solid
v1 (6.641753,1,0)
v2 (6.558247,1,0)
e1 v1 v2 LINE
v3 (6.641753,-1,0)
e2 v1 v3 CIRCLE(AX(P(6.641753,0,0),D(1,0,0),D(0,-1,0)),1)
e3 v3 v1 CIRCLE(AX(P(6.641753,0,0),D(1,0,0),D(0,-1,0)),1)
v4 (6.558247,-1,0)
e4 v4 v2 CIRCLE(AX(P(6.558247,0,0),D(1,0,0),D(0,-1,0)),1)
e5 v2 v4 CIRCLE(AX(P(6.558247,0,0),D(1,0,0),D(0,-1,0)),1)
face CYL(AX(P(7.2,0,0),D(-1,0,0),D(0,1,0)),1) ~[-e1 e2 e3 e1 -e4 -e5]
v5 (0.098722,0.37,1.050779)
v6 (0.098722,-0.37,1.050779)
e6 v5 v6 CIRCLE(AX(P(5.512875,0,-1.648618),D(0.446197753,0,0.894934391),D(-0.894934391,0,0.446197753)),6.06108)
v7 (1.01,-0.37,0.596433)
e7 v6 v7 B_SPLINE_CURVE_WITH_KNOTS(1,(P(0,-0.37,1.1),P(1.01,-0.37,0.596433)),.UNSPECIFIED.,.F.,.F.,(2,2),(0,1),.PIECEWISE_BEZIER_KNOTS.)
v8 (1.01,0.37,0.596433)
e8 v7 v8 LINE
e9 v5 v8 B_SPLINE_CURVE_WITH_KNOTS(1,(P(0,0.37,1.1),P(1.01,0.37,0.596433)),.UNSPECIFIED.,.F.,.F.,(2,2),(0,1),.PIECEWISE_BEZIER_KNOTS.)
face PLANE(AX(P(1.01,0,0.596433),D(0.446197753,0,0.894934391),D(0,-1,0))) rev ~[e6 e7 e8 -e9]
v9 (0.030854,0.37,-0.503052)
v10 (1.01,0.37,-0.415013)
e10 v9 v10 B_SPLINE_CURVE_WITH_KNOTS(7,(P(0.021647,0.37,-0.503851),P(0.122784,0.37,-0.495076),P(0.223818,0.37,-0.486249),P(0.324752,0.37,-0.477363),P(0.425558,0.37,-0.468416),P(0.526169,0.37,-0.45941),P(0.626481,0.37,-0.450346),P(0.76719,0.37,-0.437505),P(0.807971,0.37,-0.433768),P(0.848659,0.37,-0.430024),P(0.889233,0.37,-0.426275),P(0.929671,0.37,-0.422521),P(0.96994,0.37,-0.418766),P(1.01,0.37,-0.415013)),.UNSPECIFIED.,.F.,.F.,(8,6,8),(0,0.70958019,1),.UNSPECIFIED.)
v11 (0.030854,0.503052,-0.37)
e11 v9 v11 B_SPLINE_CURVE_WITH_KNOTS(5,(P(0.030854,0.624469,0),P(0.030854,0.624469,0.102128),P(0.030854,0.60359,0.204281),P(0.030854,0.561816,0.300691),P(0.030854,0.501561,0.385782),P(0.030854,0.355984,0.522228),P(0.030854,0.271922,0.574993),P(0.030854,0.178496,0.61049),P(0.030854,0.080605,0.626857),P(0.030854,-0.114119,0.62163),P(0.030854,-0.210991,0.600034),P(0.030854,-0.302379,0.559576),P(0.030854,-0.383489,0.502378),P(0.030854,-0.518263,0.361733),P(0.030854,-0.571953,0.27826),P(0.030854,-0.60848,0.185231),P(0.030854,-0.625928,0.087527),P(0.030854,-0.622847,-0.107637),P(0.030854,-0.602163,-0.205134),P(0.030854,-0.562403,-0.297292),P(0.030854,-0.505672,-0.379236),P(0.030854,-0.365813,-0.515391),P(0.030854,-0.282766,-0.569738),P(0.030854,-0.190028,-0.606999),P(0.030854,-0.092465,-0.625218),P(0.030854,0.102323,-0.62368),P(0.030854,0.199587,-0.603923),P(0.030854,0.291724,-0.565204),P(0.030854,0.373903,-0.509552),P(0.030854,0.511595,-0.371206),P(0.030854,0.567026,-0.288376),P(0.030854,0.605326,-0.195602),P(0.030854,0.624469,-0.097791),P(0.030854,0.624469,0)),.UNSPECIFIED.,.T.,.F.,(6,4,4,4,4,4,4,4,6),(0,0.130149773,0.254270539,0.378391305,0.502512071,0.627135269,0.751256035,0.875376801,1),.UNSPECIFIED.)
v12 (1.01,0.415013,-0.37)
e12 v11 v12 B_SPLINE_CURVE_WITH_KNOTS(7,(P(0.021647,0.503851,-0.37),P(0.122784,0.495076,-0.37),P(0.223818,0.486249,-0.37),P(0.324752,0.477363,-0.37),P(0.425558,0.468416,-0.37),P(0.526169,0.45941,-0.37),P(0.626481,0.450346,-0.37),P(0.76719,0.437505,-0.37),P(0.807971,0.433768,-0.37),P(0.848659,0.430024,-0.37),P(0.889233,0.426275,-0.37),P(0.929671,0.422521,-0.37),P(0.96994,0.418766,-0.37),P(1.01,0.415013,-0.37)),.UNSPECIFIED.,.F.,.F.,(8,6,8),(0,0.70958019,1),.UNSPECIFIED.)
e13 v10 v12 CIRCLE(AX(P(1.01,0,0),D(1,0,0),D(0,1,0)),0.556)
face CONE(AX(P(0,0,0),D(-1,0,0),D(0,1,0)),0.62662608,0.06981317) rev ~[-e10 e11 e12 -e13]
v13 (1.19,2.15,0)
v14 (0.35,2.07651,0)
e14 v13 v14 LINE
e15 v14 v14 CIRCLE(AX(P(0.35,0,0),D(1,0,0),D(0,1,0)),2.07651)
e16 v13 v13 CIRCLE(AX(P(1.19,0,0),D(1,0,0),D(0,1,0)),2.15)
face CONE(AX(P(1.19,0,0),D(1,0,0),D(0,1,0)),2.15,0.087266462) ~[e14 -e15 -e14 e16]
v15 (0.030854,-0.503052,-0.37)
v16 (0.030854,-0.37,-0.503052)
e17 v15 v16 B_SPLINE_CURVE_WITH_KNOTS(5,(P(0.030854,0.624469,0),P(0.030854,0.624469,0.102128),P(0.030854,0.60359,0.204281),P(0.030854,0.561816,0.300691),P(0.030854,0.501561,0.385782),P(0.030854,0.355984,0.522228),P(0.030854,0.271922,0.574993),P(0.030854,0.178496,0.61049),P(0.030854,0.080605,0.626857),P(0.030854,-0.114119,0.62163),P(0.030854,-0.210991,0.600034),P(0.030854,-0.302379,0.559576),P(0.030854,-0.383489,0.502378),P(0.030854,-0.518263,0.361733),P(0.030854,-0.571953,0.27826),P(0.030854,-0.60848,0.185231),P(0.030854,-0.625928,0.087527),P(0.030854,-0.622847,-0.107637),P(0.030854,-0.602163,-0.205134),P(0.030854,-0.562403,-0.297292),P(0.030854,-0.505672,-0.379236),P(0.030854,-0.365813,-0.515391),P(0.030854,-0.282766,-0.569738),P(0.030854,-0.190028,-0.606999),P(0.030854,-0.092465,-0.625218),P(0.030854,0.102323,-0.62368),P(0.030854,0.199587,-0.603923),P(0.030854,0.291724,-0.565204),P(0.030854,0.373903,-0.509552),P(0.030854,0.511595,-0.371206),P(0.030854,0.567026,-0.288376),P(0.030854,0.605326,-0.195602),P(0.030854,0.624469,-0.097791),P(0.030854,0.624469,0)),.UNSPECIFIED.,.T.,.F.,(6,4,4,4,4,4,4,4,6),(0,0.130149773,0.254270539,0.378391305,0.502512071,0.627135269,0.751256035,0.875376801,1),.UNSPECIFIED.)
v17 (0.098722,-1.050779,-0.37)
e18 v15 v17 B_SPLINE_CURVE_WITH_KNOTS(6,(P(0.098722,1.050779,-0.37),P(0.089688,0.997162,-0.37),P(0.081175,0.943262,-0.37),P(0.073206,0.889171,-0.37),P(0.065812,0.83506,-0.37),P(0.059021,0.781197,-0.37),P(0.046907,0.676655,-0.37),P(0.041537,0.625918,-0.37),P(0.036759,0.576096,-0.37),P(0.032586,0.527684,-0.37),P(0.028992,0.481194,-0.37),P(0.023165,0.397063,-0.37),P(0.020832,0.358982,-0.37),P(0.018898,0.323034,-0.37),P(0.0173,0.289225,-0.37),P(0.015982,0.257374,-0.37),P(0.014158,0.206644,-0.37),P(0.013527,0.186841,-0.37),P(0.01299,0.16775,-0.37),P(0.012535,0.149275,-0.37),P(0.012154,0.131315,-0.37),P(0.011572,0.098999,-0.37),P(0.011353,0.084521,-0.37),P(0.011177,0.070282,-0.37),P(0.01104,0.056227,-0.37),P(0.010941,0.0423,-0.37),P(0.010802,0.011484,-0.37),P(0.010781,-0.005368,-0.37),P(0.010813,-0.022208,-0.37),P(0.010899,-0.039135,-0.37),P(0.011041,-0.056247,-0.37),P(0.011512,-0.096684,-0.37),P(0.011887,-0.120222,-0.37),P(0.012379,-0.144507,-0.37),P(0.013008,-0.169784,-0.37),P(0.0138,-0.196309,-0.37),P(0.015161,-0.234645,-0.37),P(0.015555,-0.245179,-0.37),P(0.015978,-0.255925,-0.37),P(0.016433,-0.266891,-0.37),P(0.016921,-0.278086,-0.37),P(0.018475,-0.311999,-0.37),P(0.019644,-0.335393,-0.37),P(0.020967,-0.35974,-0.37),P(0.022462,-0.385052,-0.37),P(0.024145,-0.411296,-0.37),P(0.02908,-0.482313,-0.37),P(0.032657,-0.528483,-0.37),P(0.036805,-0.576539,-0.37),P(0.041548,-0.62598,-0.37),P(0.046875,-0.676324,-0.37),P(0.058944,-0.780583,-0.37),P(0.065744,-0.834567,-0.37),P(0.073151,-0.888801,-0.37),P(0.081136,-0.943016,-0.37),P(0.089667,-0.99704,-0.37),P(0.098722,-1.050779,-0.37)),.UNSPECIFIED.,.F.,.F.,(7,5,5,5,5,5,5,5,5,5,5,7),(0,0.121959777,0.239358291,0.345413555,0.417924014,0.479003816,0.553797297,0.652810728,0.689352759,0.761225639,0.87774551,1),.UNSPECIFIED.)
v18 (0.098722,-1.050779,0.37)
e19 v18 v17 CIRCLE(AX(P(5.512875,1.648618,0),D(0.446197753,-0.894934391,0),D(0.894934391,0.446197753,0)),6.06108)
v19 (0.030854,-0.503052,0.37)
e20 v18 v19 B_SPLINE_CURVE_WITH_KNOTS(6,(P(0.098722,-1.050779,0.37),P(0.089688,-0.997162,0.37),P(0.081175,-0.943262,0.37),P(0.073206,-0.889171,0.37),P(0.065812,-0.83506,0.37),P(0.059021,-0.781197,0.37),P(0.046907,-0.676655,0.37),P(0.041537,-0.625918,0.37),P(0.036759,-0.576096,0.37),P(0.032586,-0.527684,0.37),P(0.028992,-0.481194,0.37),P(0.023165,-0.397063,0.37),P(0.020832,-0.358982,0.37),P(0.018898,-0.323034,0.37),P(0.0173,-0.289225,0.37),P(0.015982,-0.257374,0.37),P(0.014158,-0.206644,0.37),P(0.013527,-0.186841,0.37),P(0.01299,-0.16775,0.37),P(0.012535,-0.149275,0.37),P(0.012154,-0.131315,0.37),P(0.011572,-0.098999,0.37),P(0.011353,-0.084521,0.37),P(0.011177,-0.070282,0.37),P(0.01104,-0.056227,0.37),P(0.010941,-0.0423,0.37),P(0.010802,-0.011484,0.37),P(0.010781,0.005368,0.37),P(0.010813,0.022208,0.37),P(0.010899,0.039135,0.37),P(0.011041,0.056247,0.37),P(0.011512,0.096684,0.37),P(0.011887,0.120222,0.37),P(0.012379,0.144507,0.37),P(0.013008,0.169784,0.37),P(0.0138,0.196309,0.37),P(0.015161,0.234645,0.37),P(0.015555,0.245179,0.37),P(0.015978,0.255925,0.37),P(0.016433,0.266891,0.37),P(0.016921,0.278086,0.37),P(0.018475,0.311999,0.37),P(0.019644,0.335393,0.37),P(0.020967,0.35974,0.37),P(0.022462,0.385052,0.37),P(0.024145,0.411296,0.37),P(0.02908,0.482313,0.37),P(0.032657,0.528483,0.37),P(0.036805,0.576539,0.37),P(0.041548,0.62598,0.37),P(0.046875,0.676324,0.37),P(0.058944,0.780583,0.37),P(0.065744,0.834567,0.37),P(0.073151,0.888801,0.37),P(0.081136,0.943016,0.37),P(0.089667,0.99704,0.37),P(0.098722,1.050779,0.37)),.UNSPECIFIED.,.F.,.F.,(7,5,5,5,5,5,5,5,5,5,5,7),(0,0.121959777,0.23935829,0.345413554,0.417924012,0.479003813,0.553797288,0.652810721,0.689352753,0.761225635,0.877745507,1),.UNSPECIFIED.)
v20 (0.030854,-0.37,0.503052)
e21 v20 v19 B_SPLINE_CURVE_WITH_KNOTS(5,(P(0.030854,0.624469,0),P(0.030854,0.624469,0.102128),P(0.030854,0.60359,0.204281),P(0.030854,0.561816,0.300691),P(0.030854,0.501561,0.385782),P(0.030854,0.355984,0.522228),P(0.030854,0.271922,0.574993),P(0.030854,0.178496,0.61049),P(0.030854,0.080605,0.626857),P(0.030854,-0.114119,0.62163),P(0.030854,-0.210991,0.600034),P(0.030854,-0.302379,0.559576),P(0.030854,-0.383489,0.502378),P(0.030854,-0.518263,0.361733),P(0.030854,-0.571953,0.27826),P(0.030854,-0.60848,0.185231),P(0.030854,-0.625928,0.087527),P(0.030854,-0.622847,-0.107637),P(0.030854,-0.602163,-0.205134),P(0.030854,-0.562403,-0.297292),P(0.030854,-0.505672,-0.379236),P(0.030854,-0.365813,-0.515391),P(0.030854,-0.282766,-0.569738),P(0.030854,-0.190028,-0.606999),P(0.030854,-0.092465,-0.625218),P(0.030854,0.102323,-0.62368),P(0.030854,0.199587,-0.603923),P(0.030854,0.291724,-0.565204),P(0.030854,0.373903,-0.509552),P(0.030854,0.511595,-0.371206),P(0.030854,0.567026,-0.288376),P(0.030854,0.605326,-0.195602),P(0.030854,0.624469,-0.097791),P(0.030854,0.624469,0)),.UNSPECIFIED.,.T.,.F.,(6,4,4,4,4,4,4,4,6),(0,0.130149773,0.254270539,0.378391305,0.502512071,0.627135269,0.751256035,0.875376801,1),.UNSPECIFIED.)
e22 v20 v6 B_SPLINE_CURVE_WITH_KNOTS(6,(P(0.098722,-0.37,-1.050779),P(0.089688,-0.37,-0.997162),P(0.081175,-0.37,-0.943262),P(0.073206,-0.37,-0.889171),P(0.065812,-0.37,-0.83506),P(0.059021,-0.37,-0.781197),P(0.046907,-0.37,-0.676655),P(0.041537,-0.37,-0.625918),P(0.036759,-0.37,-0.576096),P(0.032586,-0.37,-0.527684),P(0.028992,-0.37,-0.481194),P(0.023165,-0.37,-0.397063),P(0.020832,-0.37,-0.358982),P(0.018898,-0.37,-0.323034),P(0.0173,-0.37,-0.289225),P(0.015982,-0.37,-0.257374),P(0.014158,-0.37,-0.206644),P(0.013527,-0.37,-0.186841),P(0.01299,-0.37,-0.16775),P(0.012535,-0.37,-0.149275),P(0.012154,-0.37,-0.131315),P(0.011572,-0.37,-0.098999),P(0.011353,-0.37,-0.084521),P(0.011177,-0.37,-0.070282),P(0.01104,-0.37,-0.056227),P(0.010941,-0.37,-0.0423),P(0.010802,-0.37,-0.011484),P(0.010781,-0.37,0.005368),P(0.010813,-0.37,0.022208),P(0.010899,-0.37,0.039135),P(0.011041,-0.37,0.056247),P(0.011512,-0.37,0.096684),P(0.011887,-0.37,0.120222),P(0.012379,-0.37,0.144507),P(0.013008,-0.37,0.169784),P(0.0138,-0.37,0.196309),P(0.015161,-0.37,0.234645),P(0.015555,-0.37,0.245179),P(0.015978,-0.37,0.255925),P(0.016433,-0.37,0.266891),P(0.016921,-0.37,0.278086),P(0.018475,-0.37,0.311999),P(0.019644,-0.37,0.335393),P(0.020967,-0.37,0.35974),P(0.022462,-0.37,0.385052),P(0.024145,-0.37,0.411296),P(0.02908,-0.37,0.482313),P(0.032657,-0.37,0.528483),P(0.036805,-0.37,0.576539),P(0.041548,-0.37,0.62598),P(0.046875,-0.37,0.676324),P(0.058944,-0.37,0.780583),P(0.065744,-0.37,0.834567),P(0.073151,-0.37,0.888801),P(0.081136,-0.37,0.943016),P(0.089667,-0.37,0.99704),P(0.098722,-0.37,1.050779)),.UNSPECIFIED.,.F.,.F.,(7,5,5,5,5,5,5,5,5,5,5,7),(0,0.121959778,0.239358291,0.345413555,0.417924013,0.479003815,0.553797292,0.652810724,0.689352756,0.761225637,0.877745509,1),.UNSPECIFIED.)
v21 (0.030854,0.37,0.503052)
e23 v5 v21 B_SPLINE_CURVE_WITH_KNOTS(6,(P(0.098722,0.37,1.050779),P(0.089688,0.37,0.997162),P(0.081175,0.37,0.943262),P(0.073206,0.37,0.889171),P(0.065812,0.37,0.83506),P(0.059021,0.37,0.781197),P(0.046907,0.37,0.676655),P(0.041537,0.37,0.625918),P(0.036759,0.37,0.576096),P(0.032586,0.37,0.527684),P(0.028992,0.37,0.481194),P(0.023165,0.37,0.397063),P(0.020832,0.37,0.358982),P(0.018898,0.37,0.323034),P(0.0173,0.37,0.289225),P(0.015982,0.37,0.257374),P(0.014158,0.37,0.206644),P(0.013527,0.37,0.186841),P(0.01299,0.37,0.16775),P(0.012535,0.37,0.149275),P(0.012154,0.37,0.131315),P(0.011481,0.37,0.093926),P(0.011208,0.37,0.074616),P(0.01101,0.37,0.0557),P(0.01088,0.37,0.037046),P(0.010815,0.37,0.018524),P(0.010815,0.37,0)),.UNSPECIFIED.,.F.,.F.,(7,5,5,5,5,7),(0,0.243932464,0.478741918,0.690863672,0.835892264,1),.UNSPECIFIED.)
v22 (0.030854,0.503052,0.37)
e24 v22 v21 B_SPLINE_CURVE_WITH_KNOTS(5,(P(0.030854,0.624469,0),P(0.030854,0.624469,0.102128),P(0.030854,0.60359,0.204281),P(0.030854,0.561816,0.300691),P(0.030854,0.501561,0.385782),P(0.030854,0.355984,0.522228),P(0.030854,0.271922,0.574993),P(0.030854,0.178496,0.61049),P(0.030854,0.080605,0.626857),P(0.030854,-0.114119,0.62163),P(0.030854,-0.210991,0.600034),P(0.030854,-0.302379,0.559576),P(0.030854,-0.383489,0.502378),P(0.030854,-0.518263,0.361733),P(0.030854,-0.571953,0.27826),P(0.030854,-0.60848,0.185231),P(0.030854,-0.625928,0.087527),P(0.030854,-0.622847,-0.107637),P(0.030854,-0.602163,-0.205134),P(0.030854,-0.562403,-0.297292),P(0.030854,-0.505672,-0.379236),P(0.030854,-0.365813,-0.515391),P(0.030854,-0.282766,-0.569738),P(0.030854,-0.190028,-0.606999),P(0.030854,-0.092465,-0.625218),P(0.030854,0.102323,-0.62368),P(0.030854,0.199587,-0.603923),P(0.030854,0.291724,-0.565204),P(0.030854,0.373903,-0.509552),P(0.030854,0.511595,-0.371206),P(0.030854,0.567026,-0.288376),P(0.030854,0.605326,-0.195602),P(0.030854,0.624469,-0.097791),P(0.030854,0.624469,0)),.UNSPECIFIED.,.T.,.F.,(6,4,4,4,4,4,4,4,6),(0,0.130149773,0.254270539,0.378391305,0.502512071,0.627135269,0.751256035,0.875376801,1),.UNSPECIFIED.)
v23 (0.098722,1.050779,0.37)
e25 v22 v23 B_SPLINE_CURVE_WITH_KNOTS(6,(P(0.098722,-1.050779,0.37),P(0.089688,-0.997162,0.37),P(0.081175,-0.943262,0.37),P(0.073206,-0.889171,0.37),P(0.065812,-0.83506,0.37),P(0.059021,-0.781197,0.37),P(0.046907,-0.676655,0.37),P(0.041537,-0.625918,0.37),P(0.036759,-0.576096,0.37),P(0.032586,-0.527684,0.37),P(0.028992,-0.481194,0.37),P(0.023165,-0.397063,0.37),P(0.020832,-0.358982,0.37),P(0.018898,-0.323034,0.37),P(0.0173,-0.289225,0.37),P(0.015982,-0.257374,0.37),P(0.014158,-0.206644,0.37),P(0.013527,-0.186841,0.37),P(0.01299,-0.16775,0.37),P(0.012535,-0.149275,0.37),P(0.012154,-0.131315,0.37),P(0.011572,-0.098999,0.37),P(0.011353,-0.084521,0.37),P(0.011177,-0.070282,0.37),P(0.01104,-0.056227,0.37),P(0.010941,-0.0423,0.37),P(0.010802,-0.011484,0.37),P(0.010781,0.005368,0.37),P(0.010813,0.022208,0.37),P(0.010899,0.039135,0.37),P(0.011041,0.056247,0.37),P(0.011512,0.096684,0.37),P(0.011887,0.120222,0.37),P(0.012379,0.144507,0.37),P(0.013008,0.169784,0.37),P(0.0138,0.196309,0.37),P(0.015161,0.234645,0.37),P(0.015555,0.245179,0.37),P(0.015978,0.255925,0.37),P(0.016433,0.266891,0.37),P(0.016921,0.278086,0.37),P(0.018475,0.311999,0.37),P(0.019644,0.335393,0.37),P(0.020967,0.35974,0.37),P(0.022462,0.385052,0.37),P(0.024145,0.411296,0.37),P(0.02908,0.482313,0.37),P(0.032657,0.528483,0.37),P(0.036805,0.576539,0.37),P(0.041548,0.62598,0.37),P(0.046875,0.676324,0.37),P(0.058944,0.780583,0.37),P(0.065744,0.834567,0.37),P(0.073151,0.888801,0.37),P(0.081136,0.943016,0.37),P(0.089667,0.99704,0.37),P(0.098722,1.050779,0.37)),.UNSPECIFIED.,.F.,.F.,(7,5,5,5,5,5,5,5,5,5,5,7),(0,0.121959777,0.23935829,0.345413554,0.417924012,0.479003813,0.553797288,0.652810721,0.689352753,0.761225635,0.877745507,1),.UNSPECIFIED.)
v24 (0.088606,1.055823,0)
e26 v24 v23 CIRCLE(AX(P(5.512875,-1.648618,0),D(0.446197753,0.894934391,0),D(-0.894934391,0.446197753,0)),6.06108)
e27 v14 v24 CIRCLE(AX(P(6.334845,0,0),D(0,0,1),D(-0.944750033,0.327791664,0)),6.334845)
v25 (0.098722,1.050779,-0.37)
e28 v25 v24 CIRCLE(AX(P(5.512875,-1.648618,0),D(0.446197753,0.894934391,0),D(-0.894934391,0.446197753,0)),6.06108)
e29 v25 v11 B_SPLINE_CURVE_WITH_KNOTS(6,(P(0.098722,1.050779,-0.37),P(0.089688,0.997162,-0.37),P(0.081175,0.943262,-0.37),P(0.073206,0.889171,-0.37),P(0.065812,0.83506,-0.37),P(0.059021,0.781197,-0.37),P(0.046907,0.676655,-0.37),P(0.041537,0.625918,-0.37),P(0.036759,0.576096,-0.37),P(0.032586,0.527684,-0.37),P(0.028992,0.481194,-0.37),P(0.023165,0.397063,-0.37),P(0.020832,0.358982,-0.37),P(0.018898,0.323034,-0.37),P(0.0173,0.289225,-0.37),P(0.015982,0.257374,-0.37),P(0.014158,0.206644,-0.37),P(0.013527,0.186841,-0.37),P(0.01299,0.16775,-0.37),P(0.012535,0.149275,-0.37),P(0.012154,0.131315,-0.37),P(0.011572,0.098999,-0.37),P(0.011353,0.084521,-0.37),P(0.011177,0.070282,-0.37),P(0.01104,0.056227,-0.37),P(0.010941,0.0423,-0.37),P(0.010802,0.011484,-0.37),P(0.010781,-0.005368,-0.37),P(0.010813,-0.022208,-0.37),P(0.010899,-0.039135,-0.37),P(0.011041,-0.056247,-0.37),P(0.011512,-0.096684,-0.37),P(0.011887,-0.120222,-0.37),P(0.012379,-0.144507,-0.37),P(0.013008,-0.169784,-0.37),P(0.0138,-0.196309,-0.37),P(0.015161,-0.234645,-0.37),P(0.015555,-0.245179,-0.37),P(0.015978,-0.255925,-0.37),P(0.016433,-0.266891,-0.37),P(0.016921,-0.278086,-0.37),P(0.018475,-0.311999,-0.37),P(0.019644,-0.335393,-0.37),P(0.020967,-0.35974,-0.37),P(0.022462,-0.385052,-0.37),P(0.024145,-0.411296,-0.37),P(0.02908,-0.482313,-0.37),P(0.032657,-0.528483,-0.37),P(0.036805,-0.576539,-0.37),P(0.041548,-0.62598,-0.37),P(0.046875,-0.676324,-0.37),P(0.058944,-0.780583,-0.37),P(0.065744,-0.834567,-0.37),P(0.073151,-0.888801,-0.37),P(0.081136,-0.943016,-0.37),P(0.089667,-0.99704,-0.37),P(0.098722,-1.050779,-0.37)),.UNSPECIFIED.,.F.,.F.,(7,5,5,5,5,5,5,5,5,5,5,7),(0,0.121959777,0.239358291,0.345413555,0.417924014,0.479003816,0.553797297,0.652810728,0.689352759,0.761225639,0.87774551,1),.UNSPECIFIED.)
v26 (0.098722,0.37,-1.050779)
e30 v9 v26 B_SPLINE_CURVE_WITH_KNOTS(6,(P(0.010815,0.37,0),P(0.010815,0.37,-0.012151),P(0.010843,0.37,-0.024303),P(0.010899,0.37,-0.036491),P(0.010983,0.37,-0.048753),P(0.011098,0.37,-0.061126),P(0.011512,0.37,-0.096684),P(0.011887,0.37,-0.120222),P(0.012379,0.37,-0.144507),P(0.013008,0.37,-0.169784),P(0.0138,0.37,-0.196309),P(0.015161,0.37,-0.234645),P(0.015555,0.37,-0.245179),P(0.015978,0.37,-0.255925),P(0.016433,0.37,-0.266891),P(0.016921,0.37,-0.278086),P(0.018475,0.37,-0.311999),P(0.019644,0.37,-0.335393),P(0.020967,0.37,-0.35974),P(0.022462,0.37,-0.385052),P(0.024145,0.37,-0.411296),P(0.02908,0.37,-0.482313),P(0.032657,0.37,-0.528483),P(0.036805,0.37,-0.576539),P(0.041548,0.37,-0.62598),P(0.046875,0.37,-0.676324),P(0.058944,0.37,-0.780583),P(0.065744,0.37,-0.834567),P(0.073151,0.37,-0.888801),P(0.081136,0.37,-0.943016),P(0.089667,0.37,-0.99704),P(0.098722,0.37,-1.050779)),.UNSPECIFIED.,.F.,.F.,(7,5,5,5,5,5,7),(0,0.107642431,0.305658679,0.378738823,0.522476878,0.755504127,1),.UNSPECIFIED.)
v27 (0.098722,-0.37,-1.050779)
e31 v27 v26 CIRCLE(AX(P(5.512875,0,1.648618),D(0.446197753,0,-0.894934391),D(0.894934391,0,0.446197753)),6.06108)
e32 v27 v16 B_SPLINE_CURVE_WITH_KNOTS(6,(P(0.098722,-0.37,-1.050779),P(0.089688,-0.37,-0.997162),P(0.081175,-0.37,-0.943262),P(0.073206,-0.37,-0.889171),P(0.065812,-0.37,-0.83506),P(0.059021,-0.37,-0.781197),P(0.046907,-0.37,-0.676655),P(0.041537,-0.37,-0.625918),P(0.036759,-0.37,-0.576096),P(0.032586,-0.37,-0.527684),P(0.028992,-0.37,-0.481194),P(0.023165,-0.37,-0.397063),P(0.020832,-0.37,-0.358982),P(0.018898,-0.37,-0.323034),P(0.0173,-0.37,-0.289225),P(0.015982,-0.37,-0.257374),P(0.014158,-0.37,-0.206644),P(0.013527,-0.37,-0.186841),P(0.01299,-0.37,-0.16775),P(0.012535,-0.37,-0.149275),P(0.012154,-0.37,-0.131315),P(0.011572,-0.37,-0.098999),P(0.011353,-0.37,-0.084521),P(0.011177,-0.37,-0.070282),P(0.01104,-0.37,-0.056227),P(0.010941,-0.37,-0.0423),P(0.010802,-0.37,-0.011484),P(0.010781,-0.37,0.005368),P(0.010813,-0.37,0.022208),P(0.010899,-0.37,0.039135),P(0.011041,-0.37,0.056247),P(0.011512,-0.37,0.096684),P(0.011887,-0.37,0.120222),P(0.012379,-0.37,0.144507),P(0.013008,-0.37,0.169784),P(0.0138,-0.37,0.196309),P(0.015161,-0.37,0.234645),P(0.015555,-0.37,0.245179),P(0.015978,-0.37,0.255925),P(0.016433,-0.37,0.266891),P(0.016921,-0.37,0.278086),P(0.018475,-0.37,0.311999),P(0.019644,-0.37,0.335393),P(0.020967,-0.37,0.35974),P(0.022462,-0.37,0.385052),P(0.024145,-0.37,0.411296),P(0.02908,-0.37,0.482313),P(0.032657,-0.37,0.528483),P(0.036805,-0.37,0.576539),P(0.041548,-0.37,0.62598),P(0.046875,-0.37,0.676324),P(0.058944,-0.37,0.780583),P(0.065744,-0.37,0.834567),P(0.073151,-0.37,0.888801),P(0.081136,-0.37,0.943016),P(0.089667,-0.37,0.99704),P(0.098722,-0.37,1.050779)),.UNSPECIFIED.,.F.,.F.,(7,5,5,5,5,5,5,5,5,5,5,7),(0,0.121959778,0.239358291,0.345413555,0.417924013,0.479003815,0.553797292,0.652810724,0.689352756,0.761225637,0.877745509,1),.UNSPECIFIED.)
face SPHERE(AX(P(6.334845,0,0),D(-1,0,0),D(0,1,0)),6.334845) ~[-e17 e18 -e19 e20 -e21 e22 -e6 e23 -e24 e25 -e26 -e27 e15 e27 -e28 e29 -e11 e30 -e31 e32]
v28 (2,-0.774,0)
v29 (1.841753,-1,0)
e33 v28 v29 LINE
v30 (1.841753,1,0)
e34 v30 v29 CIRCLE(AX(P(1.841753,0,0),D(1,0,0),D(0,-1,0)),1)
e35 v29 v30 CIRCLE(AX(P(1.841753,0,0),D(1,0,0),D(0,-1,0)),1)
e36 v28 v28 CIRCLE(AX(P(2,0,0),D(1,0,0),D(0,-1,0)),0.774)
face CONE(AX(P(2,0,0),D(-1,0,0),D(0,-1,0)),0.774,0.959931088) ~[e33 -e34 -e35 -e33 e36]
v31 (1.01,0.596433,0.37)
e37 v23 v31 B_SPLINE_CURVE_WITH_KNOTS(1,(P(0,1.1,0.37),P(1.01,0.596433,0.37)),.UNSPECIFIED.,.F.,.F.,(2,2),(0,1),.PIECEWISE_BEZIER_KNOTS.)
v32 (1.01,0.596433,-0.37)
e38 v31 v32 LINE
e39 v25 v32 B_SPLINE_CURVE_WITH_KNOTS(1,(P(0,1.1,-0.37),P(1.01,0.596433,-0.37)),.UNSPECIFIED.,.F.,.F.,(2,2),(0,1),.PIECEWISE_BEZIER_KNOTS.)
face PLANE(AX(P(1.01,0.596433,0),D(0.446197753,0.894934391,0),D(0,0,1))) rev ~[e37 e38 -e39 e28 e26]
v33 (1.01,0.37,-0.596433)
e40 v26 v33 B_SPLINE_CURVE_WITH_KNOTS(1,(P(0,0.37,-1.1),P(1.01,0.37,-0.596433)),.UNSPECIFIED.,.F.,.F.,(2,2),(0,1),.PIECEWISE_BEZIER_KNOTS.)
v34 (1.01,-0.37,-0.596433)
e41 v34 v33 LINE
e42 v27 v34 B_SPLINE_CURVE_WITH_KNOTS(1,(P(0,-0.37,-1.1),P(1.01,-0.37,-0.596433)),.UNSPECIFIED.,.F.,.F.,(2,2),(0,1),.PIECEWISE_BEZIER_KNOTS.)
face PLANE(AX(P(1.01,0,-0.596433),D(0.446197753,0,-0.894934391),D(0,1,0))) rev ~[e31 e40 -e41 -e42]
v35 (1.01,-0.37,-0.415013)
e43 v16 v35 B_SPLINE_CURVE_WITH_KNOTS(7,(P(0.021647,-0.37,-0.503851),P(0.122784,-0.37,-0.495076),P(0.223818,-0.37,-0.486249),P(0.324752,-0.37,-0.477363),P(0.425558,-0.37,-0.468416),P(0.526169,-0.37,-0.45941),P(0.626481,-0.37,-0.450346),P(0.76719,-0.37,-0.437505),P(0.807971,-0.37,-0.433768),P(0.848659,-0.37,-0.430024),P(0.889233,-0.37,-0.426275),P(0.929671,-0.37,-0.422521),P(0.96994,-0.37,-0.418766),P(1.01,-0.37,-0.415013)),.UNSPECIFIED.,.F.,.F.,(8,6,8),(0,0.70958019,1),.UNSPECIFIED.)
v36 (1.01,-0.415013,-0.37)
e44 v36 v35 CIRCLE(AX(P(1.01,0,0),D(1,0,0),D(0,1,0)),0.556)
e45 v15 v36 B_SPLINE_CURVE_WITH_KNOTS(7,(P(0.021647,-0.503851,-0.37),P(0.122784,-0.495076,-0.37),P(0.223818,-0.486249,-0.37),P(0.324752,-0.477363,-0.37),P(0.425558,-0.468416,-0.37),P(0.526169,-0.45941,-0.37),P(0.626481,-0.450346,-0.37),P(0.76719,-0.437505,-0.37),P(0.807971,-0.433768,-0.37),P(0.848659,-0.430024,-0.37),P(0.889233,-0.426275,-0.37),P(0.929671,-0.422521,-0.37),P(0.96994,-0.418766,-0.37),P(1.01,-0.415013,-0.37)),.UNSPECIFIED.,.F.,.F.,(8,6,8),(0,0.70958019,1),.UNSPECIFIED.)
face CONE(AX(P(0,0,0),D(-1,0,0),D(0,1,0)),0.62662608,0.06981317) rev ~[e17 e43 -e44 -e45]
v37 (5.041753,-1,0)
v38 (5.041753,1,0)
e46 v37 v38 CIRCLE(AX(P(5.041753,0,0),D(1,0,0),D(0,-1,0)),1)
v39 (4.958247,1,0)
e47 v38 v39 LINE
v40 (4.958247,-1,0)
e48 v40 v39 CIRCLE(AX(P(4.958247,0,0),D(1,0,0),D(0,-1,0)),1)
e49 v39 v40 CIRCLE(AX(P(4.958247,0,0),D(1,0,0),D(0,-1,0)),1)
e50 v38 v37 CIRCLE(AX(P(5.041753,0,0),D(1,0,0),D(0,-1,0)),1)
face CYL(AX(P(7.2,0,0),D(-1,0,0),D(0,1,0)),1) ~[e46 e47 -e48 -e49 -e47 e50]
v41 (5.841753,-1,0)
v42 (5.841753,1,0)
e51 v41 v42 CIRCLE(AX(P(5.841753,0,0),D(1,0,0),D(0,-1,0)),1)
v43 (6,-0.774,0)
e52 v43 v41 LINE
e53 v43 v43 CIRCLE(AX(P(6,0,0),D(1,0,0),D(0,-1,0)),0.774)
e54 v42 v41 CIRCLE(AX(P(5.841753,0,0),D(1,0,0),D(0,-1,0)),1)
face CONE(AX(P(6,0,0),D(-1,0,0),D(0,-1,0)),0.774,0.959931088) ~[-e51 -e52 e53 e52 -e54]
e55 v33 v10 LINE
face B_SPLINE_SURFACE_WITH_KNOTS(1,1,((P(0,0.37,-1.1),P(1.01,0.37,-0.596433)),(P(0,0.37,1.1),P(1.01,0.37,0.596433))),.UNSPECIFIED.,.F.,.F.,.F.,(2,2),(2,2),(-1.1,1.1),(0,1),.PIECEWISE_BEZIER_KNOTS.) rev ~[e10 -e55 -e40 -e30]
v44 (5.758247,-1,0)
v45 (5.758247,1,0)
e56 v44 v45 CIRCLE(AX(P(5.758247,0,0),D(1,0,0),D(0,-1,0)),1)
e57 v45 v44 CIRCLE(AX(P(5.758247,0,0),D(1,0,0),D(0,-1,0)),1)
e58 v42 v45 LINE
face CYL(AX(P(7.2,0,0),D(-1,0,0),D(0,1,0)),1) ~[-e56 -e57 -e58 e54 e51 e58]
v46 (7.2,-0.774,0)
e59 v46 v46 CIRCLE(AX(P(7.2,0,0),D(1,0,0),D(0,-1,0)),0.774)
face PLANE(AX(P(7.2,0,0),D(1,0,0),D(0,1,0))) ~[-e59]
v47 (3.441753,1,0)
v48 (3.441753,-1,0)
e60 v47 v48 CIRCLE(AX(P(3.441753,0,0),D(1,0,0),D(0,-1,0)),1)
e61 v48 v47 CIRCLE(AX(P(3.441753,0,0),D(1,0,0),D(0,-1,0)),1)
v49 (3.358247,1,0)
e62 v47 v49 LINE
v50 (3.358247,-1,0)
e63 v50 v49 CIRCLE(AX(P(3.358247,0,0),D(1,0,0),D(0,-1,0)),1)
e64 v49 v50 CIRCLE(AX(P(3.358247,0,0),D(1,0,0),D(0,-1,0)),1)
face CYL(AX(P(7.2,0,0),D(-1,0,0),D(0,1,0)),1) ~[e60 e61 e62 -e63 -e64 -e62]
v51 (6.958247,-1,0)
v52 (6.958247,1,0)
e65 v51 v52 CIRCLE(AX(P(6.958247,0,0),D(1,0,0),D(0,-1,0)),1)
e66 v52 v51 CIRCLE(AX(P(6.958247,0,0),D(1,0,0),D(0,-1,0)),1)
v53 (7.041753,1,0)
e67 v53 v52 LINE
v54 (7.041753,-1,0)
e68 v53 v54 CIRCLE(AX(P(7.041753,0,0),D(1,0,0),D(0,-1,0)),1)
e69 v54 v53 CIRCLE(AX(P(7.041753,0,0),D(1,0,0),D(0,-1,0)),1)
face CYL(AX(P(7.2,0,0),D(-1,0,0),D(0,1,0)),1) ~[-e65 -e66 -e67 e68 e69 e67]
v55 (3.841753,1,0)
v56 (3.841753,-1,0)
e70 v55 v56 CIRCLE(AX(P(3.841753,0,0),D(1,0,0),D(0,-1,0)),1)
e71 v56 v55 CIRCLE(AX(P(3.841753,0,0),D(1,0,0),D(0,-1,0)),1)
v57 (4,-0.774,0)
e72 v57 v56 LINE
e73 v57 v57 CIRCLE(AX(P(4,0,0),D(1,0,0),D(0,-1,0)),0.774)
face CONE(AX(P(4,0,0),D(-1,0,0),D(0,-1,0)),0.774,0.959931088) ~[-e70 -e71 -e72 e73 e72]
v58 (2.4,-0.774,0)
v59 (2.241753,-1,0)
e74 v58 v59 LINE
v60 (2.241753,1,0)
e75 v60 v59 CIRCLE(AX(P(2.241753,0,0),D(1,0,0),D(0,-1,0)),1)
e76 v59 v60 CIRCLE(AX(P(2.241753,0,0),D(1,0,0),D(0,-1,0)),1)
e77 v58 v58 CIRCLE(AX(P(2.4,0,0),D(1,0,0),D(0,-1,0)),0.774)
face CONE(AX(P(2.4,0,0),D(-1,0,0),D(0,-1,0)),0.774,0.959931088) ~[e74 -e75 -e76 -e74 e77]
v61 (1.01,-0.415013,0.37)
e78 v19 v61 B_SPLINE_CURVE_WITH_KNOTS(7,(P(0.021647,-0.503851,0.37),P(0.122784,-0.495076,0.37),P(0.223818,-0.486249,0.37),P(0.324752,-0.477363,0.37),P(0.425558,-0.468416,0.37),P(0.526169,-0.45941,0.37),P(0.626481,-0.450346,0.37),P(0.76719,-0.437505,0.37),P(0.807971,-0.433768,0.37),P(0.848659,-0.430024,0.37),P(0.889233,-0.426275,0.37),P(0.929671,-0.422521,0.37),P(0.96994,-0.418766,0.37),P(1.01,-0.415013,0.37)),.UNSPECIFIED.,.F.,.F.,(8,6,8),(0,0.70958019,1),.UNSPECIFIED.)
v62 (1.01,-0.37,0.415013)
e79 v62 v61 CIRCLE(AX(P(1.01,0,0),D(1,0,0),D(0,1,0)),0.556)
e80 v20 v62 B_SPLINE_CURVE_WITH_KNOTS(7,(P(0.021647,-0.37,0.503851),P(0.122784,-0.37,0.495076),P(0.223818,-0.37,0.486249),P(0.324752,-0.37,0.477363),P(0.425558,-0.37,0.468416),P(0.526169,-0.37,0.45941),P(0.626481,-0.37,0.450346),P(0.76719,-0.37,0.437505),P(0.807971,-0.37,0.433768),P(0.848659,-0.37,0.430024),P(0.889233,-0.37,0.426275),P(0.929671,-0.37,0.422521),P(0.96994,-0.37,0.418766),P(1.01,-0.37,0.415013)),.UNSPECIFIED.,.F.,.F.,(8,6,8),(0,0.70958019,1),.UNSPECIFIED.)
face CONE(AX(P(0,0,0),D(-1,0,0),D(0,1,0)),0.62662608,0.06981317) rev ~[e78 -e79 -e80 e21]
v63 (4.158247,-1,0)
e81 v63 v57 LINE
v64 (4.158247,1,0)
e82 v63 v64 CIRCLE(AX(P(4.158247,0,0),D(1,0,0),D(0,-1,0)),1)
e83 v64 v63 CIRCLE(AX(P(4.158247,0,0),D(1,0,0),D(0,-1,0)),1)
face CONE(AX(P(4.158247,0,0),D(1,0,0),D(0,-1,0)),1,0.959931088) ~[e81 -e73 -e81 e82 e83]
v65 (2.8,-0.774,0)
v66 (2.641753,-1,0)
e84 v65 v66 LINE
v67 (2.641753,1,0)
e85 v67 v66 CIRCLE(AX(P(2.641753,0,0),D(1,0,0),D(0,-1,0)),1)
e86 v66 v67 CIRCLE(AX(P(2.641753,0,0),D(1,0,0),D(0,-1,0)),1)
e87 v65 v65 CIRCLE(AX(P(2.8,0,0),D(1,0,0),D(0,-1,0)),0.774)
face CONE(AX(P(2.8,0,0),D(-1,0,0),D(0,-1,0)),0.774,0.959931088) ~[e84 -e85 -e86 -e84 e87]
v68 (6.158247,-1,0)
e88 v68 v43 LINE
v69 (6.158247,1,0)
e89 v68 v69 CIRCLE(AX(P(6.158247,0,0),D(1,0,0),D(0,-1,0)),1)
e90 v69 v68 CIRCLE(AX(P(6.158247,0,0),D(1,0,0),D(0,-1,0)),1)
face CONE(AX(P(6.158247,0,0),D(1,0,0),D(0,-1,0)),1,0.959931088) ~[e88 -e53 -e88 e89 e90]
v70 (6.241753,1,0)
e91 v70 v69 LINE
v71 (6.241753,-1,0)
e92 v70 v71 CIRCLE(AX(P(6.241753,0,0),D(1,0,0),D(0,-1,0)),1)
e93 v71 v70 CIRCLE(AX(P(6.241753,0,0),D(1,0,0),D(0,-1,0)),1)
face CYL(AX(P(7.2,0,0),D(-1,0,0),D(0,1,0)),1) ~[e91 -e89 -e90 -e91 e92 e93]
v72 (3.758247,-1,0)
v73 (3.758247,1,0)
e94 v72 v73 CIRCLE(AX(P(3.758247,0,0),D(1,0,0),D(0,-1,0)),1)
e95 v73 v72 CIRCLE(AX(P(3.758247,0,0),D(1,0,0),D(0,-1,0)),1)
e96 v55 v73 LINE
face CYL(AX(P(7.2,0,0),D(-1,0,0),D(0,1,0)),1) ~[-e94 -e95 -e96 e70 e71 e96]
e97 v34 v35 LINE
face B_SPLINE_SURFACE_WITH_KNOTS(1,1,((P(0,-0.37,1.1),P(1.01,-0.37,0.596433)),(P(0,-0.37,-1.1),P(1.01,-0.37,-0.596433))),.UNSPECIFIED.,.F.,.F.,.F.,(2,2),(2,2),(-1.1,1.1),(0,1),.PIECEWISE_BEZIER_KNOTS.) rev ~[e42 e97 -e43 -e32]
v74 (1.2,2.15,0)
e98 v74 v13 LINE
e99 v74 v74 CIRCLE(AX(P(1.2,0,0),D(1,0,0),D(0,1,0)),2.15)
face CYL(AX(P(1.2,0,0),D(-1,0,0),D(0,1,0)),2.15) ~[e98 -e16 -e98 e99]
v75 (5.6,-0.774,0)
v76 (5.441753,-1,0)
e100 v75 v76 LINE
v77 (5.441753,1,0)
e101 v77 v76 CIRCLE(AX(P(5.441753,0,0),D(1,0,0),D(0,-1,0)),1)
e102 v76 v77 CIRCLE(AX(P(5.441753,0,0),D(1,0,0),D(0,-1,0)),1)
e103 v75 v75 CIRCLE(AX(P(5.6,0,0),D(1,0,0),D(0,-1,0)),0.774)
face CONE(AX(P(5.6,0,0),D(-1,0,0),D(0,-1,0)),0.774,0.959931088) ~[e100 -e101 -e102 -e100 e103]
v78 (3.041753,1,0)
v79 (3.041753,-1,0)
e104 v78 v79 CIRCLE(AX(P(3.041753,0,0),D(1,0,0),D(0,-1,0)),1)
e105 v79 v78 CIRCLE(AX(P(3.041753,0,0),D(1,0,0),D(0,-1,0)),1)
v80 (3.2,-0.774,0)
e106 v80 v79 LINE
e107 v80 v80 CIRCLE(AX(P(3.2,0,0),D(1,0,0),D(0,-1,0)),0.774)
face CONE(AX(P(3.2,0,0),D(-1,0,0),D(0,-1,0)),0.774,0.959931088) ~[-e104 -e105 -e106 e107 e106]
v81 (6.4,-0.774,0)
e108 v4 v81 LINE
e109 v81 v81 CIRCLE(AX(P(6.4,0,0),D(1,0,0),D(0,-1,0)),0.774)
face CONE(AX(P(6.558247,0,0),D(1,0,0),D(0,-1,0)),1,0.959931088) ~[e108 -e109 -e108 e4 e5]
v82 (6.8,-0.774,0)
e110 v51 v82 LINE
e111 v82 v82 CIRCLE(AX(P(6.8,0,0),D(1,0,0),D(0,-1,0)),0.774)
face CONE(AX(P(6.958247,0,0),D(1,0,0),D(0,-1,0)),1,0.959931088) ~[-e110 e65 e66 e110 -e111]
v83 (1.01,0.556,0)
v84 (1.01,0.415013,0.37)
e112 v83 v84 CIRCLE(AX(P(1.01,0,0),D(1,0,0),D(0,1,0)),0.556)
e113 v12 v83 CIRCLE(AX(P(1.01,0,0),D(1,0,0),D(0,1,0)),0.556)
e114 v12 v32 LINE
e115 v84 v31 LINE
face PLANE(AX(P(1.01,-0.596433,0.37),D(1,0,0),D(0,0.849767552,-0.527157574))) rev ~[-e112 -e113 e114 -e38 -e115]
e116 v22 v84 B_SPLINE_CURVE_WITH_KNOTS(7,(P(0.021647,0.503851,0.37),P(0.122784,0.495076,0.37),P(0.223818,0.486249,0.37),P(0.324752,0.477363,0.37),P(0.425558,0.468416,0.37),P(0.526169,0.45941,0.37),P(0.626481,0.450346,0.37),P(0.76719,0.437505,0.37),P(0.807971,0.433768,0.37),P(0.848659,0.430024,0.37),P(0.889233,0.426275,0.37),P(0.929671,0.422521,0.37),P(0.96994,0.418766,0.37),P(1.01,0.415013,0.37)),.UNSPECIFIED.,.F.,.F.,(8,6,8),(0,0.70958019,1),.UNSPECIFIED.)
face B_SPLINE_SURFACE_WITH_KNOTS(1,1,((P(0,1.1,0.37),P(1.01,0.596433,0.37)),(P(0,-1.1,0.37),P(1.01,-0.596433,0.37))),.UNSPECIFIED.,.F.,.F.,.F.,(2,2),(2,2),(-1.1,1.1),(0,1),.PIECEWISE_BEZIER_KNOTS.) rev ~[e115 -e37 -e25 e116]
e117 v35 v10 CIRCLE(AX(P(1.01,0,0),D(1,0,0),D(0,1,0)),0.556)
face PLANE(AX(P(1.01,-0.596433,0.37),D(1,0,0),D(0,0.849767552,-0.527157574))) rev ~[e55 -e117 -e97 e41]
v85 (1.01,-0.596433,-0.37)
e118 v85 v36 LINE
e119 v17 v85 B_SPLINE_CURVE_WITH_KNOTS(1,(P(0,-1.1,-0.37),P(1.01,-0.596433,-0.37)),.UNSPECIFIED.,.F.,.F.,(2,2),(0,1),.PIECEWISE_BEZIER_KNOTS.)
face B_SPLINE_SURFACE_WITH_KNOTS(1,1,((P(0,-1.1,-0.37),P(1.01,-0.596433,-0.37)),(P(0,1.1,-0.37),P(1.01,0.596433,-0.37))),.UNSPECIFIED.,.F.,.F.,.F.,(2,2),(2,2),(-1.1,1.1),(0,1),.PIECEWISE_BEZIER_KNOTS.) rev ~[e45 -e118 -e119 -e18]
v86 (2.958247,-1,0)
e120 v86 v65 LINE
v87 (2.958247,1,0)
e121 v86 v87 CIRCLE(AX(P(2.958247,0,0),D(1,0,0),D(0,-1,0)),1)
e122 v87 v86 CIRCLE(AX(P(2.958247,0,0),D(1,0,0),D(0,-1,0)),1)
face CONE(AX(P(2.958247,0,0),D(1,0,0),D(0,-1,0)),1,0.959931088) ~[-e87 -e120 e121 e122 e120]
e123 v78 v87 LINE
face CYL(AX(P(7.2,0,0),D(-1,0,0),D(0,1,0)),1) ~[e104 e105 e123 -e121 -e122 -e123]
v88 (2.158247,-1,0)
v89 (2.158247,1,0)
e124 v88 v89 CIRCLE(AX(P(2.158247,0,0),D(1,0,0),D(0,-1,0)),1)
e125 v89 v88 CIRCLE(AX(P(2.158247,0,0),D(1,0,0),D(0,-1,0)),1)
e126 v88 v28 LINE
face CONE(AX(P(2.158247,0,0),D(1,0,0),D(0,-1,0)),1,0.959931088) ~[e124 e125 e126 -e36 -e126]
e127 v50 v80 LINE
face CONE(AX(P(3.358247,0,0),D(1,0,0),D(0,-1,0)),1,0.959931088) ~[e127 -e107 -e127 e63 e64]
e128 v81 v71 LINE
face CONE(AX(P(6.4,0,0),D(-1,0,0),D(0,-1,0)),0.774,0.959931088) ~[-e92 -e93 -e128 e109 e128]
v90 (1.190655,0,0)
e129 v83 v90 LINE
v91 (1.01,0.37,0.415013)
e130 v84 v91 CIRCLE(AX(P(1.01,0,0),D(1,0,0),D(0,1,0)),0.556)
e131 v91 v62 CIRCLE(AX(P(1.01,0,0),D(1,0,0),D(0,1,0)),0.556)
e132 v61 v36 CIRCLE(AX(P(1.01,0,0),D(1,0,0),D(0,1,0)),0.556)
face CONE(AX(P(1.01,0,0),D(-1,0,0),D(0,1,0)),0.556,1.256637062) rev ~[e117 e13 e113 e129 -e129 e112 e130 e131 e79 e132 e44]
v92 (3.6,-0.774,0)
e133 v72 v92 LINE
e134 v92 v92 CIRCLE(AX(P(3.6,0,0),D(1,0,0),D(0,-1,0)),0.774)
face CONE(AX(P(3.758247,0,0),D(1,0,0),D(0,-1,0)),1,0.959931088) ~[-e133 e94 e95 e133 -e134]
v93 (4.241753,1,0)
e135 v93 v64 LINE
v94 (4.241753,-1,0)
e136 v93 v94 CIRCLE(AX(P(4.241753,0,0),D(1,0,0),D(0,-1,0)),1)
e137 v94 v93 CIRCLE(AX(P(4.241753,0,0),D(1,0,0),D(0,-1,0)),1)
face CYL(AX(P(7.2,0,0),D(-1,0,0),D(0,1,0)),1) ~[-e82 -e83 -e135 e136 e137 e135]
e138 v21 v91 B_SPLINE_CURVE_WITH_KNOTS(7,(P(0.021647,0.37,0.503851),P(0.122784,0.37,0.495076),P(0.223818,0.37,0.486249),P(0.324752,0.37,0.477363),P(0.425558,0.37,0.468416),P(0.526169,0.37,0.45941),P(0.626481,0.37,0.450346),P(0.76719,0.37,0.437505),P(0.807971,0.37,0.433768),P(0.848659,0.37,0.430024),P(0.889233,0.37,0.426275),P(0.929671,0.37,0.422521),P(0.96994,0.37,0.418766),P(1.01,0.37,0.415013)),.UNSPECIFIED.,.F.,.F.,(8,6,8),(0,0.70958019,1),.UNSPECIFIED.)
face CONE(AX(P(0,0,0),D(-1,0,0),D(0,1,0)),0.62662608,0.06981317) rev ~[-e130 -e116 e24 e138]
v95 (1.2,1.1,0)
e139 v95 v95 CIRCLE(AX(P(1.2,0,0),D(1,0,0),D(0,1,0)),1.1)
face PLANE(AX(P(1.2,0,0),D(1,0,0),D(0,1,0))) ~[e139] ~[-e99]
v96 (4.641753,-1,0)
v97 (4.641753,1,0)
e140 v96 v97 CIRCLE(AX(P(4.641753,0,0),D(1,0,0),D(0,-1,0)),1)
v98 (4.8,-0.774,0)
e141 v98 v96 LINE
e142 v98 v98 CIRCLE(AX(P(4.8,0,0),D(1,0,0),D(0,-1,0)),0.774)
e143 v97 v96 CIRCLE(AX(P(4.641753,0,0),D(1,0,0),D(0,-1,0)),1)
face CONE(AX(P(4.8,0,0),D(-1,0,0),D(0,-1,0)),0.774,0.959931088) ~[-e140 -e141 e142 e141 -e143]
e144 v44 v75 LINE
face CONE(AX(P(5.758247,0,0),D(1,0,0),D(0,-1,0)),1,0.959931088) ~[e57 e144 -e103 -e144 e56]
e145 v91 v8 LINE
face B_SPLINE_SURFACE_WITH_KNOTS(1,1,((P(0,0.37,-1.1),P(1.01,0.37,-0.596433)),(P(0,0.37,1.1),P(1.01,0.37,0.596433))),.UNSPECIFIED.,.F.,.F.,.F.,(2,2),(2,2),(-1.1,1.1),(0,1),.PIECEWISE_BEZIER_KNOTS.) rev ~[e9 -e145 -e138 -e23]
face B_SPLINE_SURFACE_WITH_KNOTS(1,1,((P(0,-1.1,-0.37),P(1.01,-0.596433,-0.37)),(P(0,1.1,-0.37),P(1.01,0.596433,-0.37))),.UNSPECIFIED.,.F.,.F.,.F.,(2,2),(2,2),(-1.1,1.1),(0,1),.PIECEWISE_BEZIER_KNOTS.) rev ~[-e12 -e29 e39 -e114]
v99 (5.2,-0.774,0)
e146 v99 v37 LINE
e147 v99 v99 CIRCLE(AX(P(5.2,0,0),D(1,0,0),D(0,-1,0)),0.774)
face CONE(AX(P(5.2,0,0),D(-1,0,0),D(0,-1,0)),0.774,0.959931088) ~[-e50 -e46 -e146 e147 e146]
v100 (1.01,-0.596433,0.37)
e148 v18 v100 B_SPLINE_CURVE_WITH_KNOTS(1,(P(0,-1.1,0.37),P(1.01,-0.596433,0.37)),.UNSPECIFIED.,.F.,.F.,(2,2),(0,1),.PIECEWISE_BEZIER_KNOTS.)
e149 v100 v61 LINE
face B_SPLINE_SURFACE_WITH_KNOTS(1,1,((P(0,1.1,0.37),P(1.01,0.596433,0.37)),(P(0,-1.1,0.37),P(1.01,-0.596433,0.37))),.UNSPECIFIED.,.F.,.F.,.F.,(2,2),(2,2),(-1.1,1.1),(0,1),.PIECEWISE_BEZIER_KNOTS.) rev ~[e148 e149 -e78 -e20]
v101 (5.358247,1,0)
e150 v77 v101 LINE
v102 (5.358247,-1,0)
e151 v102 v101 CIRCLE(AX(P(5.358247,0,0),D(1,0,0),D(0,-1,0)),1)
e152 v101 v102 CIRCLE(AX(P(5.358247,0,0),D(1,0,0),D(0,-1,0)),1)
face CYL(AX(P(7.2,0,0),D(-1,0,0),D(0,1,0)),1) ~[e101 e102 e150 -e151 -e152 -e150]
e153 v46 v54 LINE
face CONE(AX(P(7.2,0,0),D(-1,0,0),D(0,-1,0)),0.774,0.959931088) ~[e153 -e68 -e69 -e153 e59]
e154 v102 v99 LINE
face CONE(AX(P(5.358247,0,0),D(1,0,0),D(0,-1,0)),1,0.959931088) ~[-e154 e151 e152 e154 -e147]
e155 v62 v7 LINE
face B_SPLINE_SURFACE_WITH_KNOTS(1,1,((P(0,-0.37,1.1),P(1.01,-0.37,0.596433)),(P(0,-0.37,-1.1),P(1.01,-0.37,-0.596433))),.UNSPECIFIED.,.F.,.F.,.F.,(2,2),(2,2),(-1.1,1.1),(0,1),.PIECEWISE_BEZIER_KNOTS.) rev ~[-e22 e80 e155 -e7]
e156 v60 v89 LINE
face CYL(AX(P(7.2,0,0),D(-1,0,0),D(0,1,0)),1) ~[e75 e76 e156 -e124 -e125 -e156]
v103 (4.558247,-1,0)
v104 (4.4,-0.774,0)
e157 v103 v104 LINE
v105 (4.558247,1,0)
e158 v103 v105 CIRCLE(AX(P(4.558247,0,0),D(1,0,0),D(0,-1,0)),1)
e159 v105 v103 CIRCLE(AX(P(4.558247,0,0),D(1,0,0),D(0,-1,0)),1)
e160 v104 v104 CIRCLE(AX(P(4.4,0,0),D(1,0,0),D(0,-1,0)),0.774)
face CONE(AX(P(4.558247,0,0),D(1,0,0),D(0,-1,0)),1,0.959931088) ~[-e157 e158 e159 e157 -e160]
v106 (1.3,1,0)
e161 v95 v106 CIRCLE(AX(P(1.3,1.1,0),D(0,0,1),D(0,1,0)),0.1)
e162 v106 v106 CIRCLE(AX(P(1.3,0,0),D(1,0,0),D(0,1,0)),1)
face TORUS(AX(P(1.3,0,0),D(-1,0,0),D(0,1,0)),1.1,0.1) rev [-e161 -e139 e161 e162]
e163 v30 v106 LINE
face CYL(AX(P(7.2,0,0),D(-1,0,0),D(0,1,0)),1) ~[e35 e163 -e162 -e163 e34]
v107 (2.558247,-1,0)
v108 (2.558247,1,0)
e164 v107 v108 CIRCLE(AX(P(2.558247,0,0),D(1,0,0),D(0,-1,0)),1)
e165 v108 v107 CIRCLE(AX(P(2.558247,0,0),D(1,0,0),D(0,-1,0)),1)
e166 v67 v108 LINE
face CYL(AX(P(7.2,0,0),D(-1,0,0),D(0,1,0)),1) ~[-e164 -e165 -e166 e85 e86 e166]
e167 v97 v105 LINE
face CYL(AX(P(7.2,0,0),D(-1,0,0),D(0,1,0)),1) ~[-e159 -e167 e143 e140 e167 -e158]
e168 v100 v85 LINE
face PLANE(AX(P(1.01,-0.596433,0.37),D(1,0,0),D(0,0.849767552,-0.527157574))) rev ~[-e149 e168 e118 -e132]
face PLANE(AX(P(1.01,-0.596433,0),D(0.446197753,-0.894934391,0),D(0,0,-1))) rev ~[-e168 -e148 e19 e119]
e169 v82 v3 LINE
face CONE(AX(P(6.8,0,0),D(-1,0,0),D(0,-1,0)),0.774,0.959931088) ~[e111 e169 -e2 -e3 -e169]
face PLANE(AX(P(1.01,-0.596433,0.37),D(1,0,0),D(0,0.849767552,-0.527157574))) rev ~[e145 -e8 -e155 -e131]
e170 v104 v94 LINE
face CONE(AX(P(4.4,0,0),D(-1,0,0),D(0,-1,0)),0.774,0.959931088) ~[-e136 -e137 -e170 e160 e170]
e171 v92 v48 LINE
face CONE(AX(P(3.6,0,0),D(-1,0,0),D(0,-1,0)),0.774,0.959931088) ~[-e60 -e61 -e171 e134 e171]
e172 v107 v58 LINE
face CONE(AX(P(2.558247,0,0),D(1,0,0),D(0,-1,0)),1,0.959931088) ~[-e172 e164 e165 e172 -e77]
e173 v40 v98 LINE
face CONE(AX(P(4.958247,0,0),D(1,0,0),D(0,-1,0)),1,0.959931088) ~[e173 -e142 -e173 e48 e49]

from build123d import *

# Parameters (mm, degrees)
FILLET1_R       = 0.1
SKETCH3_W       = 0.74
SKETCH3_H       = 2.2
SKETCH4_W       = 0.74
SKETCH4_H       = 1.19286532
RECPAT_COUNT    = 2
RECPAT_ANGLE    = 90
THDSCHPAT_COUNT = 14
THDSCHPAT_PITCH = 0.4


with BuildPart() as part:
    # BodySke → Base-Revolve (revolve)
    with BuildSketch(Plane.XY):
        with BuildLine():
            Line((1.2, 1), (1.2, 2.15))
            Line((1.2, 2.15), (1.19, 2.15))
            Line((1.19, 2.15), (0.35, 2.076509523))
            ThreePointArc((0.35, 2.076509523), (0.08811279, 1.052899781), (0, 0))
            Line((0, 0), (7.2, 0))
            Line((7.2, 0), (7.2, 1))
            Line((7.2, 1), (1.2, 1))
        make_face()
    revolve(axis=Axis((-25.4, 0, 0), (1, 0, 0)))

    # Fillet1
    fillet1_edges = [part.edges().sort_by_distance(p)[0] for p in [
        (1.2, -1, 0),
    ]]
    fillet(fillet1_edges, radius=FILLET1_R)

    # Sketch3 → Recess section 0
    with BuildSketch(Plane(origin=(0, 0, 0), x_dir=(0, 0, -1), z_dir=(1, 0, 0))):
        Rectangle(SKETCH3_W, SKETCH3_H)
    # Sketch4 → Recess section 1
    with BuildSketch(Plane(origin=(1.01, 0, 0), x_dir=(0, 0, -1), z_dir=(1, 0, 0))):
        Rectangle(SKETCH4_W, SKETCH4_H)
    recess = loft(mode=Mode.SUBTRACT)

    # RecPat: Recess ×2 about axis
    recpat_axis = Axis((0, 0, 0), (1, 0, 0))
    for i in range(1, RECPAT_COUNT):
        add(recess.rotate(recpat_axis, i * RECPAT_ANGLE / (RECPAT_COUNT - 1)), mode=Mode.SUBTRACT)

    # RecCorSke → RecessCore (revolve, cut)
    with BuildSketch(Plane.XY):
        Polygon((0, 0), (0, 0.62662608), (1.01, 0.556), (1.190655351, 0), align=None)
    revolve(axis=Axis((-3.175, 0, 0), (1, 0, 0)), mode=Mode.SUBTRACT)

    # ThdSchSke → ThreadSchematic (revolve, cut)
    with BuildSketch(Plane.XY):
        Polygon((2, -0.774), (1.841753096, -1), (1.841753096, -1.25), (2.158246904, -1.25), (2.158246904, -1), align=None)
    threadschematic = revolve(axis=Axis((-3.175, 0, 0), (1, 0, 0)), mode=Mode.SUBTRACT)

    # ThdSchPat: ThreadSchematic ×14
    with Locations(*[(i * THDSCHPAT_PITCH, 0, 0) for i in range(1, THDSCHPAT_COUNT)]):
        add(threadschematic, mode=Mode.SUBTRACT)


solid = part.part
